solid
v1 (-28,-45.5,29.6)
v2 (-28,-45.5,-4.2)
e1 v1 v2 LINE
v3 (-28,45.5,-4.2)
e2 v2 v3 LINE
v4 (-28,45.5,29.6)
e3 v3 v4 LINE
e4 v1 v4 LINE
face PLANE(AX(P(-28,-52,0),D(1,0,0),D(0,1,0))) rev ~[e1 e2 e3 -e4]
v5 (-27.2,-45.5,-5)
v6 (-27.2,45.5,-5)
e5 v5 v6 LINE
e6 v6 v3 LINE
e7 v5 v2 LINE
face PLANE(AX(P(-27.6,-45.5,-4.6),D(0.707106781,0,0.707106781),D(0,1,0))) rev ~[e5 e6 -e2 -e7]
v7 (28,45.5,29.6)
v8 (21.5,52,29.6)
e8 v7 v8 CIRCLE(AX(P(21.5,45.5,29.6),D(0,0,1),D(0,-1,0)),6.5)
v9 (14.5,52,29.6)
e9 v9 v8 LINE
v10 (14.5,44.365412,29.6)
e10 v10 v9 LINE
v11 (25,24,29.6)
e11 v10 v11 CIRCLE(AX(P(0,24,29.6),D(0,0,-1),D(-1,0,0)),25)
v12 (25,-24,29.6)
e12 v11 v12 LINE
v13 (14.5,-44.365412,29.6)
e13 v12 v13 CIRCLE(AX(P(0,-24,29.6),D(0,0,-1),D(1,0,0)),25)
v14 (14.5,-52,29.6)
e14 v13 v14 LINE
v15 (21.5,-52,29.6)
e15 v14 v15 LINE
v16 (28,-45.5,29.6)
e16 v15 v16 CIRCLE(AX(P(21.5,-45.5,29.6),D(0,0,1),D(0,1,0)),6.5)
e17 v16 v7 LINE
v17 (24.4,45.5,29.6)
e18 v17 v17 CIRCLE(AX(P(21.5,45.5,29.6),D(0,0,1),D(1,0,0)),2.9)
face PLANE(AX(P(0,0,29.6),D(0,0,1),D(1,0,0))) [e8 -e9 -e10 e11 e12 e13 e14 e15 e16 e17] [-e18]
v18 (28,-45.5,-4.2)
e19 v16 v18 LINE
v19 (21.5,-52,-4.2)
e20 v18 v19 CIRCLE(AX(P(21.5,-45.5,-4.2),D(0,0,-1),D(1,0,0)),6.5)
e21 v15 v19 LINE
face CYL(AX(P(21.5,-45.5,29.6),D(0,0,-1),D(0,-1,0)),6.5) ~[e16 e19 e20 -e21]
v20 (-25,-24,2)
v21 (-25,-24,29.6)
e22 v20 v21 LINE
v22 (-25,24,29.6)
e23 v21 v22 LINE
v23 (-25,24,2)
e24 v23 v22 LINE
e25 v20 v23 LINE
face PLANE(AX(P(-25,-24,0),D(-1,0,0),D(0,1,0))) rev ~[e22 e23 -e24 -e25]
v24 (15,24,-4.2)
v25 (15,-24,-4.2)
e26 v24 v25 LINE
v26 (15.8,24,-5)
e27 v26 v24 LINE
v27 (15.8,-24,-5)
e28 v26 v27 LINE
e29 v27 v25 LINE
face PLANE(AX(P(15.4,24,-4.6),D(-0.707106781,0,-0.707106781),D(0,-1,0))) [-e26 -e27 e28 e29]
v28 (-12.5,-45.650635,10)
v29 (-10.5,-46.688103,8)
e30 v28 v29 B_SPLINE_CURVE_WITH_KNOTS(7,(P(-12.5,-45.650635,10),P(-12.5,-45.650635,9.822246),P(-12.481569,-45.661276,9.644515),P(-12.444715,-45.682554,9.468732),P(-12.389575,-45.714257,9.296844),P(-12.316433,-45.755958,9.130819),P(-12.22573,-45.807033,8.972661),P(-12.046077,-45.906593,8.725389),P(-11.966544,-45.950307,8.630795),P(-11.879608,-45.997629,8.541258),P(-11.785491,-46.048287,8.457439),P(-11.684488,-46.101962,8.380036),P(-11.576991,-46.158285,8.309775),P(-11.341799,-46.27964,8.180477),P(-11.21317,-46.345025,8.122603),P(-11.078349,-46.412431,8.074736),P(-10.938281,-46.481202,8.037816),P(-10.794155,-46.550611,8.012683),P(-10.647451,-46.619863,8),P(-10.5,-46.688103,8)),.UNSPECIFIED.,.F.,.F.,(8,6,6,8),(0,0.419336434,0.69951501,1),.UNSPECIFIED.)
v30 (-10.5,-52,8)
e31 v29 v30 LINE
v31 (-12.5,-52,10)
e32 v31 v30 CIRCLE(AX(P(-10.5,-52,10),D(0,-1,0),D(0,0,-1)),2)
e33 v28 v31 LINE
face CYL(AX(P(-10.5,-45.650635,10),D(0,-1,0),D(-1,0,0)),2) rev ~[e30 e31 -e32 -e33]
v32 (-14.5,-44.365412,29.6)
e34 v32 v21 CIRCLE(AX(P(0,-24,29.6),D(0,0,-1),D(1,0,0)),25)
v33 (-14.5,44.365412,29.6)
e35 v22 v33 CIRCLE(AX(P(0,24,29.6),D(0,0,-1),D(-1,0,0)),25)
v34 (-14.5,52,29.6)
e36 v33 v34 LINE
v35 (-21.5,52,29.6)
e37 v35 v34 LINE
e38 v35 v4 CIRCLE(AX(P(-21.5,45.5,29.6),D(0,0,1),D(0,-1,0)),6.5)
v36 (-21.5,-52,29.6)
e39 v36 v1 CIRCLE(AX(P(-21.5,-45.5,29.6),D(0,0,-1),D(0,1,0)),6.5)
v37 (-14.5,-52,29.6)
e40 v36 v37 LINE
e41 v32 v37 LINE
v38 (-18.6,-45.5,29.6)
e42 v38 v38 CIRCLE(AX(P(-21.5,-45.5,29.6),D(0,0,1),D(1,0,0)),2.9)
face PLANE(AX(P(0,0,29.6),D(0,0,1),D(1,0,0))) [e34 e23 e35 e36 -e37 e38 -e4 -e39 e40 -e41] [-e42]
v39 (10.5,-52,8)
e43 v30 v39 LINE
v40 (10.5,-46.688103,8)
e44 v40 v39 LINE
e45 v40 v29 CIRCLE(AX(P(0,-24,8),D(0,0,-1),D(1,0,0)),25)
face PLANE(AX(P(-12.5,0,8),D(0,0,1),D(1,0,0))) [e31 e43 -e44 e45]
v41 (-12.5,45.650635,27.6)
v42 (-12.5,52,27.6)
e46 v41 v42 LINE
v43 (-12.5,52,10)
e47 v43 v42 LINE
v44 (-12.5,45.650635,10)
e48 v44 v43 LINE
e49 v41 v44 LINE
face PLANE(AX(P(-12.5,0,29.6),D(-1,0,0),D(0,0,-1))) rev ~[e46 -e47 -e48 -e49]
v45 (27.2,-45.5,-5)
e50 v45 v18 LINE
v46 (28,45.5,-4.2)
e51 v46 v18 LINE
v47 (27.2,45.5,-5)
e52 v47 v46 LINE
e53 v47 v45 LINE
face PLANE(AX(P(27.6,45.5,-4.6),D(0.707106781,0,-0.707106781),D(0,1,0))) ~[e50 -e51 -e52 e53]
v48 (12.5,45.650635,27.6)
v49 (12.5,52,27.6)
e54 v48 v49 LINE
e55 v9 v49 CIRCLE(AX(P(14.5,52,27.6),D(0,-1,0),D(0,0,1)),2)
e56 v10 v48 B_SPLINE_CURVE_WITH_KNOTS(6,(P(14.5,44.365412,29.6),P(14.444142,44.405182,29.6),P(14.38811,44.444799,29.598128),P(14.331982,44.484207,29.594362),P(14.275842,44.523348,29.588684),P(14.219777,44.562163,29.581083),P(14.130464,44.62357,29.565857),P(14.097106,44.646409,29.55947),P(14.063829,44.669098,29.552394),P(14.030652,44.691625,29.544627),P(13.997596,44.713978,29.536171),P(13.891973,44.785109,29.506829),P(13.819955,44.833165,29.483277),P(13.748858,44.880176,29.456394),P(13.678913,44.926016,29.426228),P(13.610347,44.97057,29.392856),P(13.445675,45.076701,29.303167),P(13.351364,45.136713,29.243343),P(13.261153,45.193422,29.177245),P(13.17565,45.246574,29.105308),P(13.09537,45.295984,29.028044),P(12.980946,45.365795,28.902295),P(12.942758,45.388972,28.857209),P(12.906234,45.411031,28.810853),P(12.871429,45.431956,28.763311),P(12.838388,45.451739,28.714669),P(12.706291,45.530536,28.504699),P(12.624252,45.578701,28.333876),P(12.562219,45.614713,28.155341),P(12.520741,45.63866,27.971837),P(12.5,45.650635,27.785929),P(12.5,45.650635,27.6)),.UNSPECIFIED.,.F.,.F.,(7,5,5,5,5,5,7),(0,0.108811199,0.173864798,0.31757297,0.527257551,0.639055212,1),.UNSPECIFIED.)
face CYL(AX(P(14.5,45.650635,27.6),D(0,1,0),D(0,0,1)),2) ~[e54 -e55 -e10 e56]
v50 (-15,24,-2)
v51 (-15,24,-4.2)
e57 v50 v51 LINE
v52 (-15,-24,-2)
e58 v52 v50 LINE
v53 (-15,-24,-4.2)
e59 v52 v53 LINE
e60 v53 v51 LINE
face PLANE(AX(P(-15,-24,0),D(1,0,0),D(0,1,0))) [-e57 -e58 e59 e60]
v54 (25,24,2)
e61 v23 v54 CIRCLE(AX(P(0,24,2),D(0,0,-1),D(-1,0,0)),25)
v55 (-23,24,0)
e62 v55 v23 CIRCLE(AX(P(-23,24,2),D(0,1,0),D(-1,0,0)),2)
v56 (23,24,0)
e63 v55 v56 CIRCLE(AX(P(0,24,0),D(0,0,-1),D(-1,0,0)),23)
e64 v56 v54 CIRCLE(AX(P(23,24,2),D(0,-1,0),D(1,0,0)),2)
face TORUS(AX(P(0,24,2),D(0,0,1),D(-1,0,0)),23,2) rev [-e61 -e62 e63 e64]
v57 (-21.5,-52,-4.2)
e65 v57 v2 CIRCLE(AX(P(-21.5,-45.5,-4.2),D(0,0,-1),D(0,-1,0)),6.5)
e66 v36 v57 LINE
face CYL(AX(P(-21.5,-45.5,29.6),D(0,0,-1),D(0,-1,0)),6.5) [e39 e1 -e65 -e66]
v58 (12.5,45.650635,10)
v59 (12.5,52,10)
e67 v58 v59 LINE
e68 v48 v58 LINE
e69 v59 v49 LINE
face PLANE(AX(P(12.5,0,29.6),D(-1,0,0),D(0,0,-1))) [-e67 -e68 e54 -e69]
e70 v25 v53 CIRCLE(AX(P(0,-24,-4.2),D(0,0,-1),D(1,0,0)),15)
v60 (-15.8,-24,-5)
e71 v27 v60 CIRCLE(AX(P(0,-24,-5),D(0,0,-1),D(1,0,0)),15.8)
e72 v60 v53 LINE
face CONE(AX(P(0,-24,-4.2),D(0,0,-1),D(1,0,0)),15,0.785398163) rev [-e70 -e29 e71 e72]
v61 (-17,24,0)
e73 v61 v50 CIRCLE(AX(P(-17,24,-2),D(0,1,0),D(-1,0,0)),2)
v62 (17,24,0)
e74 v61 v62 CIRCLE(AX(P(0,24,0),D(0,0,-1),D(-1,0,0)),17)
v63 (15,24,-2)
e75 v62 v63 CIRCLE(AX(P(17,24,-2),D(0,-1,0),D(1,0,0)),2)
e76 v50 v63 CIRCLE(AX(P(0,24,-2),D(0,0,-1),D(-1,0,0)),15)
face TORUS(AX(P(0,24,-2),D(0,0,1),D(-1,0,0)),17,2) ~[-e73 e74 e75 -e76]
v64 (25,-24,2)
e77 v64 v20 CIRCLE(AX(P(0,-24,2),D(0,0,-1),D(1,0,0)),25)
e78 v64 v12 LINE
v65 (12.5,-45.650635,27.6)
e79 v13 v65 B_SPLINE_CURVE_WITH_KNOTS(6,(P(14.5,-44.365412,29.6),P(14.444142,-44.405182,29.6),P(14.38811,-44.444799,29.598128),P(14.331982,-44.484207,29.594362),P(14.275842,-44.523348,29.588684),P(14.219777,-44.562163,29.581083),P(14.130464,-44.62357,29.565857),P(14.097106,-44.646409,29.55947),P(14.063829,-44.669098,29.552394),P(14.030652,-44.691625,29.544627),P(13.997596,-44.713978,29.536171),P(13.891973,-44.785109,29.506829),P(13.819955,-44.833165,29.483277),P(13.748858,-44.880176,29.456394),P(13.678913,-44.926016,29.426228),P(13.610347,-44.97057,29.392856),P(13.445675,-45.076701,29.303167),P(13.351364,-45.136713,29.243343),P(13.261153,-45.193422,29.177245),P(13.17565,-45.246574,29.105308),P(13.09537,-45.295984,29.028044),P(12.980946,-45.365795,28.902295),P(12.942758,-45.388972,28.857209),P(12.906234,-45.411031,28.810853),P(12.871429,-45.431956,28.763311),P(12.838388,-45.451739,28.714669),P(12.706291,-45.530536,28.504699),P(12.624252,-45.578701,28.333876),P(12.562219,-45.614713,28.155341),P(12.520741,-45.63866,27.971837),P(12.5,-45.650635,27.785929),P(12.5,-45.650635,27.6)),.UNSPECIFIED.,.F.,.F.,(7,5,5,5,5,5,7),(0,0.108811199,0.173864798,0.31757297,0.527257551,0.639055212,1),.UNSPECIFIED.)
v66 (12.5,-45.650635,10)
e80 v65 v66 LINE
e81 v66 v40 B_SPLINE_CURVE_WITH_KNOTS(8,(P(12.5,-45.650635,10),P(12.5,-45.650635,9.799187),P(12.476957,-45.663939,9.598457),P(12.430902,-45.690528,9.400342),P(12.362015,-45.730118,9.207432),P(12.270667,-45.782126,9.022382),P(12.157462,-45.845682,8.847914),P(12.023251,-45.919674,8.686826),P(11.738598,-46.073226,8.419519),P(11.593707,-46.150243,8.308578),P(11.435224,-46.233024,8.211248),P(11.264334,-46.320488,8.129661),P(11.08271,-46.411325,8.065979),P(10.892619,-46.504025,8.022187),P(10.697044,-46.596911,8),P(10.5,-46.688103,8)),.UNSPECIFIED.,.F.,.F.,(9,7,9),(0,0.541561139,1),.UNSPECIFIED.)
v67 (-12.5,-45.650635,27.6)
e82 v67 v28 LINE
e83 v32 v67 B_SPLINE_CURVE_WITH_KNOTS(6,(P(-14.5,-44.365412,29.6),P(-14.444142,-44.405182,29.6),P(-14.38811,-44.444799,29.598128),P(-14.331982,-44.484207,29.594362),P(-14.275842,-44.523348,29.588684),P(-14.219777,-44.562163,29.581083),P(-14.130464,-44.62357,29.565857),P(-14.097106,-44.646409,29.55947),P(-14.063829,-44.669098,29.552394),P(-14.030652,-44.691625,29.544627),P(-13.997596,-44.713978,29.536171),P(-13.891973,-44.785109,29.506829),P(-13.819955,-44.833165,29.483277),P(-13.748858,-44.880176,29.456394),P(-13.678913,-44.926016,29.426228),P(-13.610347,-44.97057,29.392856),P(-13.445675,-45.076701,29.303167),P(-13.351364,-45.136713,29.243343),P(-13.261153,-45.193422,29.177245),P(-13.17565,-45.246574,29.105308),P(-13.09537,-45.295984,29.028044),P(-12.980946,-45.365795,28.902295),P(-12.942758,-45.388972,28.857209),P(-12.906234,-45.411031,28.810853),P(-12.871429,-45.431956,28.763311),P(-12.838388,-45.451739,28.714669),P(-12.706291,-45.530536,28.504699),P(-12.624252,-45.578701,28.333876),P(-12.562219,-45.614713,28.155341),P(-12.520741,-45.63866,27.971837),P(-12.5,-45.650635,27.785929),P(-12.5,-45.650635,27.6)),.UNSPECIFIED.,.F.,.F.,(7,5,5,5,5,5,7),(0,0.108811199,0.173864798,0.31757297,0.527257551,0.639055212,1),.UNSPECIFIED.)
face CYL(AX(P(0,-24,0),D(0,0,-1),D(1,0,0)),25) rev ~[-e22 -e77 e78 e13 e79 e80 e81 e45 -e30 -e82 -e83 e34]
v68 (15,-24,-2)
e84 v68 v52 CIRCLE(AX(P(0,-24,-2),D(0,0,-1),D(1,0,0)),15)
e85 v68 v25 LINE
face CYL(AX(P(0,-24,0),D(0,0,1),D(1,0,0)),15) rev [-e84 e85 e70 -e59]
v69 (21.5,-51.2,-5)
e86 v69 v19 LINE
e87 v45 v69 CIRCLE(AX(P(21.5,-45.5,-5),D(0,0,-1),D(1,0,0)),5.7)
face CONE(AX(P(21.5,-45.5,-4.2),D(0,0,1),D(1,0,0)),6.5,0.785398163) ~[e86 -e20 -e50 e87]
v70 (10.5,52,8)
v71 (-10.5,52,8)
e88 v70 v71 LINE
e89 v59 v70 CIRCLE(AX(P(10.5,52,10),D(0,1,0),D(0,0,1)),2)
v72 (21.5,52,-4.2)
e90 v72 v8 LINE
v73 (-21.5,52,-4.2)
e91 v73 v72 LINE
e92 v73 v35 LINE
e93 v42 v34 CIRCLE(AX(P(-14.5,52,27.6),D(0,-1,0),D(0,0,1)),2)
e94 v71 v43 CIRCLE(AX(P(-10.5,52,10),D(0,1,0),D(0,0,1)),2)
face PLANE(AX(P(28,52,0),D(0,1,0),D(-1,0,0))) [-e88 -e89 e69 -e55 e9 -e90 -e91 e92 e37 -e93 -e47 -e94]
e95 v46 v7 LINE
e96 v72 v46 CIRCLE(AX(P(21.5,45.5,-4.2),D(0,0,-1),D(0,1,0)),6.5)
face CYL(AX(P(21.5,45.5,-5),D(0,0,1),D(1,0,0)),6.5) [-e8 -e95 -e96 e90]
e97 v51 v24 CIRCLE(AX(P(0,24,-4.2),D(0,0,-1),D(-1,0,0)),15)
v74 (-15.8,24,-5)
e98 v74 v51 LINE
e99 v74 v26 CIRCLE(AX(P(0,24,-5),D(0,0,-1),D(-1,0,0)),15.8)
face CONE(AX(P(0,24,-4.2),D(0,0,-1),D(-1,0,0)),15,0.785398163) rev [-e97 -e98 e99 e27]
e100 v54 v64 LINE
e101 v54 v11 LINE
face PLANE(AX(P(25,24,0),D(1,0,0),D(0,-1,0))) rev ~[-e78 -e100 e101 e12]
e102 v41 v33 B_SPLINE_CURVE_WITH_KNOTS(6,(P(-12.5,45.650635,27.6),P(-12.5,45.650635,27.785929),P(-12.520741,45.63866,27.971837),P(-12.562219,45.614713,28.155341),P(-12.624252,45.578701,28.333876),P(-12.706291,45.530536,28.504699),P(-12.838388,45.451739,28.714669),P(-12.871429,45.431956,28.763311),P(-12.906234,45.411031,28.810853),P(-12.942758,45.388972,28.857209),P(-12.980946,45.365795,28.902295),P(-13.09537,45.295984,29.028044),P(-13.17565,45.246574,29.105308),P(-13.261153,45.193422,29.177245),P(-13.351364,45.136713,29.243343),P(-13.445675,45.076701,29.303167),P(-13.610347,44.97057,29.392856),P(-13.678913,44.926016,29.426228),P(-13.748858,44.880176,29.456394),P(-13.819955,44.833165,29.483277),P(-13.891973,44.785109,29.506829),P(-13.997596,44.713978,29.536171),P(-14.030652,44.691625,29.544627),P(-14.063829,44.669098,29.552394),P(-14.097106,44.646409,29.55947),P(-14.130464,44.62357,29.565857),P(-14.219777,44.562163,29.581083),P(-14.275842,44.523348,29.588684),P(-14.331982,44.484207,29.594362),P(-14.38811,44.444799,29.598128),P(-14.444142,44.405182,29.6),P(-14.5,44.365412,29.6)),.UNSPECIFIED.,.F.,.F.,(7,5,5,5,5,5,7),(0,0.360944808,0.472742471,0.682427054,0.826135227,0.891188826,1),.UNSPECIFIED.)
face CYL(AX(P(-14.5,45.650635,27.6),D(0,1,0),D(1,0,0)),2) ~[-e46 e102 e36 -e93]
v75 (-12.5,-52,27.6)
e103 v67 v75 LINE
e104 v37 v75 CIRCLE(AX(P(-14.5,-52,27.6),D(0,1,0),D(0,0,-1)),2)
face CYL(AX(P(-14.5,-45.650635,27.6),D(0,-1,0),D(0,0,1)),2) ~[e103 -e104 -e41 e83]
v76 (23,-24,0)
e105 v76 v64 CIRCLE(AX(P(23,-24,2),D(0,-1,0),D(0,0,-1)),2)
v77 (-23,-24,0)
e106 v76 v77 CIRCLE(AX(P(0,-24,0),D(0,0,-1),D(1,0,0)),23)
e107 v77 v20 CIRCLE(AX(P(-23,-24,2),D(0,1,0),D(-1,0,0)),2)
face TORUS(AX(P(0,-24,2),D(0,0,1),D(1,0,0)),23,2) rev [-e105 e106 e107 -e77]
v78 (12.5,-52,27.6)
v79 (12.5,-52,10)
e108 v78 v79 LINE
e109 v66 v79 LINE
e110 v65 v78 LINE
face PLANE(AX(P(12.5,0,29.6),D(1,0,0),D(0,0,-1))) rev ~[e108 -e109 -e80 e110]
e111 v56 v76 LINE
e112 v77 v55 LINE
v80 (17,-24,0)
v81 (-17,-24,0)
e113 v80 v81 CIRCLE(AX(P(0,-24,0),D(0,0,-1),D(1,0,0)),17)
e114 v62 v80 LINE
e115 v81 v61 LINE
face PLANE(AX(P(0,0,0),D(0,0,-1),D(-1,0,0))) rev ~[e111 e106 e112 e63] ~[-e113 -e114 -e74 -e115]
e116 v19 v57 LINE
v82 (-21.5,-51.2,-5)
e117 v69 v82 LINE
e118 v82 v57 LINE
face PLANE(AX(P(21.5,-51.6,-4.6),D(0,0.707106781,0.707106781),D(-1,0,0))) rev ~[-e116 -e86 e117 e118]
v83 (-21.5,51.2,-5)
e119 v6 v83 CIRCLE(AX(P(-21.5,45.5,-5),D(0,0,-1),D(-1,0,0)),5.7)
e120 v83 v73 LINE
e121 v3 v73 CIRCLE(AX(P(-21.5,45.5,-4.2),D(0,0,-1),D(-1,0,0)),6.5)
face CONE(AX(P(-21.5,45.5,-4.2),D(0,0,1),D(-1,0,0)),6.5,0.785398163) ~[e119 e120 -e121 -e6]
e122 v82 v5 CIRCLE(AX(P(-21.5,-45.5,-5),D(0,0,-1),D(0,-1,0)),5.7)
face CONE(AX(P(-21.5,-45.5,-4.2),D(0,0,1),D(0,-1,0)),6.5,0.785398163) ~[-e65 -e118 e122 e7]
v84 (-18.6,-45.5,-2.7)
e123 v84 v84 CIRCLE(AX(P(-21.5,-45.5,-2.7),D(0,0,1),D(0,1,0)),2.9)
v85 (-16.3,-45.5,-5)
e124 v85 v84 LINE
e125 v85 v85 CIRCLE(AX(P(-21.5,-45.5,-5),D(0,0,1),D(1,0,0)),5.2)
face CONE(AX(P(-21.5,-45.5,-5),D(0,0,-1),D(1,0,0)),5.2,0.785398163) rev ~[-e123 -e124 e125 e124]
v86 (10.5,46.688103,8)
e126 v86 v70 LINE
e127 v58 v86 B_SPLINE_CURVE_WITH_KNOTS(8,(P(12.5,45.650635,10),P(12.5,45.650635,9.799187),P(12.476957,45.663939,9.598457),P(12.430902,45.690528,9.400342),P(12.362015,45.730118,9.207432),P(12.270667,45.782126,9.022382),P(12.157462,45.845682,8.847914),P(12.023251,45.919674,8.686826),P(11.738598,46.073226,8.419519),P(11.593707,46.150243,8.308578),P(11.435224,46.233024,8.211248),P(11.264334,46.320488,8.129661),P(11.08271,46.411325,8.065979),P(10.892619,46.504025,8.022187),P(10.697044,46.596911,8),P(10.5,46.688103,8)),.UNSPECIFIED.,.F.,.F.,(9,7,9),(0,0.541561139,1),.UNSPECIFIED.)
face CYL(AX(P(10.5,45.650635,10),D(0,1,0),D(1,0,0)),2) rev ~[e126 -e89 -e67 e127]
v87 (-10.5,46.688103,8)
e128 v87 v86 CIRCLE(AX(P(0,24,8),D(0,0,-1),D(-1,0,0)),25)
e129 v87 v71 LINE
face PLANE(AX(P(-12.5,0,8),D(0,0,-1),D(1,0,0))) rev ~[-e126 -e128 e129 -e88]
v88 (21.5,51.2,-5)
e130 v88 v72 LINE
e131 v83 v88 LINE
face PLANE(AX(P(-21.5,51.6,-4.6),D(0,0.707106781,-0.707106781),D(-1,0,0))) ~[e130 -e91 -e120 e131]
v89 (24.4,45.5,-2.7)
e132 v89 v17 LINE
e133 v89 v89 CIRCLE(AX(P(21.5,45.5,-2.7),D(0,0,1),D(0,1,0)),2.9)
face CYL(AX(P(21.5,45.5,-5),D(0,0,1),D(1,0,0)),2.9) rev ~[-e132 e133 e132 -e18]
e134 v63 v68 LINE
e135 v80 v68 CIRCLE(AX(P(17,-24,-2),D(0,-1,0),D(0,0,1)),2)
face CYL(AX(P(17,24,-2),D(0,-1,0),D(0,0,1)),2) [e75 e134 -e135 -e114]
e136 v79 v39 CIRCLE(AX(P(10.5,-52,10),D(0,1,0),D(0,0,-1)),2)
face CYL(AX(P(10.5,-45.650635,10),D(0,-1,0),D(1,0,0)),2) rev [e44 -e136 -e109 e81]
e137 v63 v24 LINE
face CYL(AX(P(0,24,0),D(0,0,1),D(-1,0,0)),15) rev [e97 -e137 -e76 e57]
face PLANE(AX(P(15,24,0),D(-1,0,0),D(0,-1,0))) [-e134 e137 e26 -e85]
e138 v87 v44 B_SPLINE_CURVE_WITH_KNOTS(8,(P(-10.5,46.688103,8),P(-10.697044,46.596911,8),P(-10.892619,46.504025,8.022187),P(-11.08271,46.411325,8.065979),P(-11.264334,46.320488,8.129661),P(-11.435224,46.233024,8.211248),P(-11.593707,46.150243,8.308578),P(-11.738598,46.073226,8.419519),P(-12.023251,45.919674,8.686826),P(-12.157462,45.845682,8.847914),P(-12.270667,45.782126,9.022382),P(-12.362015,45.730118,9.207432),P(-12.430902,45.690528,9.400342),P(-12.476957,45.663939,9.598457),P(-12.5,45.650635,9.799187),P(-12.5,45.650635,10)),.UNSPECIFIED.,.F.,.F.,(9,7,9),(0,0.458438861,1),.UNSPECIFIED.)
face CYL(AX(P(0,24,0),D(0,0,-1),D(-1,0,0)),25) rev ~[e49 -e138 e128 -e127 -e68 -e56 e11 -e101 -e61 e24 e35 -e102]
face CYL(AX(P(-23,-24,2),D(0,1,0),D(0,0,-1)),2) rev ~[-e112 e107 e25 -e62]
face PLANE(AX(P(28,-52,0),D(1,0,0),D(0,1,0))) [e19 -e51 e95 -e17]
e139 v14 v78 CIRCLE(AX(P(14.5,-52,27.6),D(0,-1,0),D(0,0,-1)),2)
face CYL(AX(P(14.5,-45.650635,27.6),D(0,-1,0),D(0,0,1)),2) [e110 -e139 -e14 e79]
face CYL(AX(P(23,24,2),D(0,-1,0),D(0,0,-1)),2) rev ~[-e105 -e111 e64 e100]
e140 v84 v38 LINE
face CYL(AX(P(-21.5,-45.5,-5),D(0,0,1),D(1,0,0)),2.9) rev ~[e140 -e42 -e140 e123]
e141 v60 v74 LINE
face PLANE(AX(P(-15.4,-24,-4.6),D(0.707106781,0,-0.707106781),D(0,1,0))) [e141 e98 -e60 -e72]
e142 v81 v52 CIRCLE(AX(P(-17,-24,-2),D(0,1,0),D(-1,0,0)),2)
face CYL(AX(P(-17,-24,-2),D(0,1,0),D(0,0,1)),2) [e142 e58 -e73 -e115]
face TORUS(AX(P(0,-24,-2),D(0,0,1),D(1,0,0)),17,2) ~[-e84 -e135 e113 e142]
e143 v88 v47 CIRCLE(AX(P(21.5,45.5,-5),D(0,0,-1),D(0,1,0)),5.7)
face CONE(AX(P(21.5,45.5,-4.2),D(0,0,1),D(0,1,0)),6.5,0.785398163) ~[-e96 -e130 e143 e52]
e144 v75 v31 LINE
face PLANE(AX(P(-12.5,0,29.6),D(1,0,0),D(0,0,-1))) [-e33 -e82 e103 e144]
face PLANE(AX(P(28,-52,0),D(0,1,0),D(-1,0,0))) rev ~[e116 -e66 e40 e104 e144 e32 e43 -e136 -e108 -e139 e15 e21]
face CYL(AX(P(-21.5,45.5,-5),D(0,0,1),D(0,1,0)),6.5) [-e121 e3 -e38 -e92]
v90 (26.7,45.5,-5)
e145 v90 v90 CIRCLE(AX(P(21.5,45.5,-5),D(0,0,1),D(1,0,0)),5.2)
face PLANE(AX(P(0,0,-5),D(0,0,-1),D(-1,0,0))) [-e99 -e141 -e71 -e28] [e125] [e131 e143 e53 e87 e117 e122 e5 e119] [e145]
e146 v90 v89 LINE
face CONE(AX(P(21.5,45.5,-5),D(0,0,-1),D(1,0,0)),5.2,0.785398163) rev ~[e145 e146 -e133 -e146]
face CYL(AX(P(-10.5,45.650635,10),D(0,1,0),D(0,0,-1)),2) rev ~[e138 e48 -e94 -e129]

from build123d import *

# Parameters (mm, degrees)
SKETCH1_W                                       = 56
SKETCH1_H                                       = 104
BOSS_EXTRUDE1_DEPTH                             = 29.6
SKETCH2_W                                       = 56
SKETCH2_H                                       = 104
BOSS_EXTRUDE2_DEPTH                             = 5
FILLET1_R                                       = 2
SKETCH3_W                                       = 25
SKETCH3_H                                       = 21.6
CUT_EXTRUDE1_DEPTH                              = 53
CUT_EXTRUDE1_DEPTH_BACK                         = 53
FILLET2_R                                       = 2
FILLET3_R                                       = 6.5
CSK_FOR_M5_FLAT_HEAD_MACHINE_SCREW1_D           = 5.8
CSK_FOR_M5_FLAT_HEAD_MACHINE_SCREW1_CSINK_D     = 10.4
CSK_FOR_M5_FLAT_HEAD_MACHINE_SCREW1_CSINK_ANGLE = 90
CHAMFER1_SIZE                                   = 0.8


with BuildPart() as part:
    # Sketch1 → Boss-Extrude1 (new body)
    with BuildSketch(Plane.XY):
        Rectangle(SKETCH1_W, SKETCH1_H)
        with BuildLine():
            Line((25, 24), (25, -24))
            ThreePointArc((25, -24), (0, -49), (-25, -24))
            Line((-25, -24), (-25, 24))
            ThreePointArc((-25, 24), (0, 49), (25, 24))
        make_face(mode=Mode.SUBTRACT)
    extrude(amount=BOSS_EXTRUDE1_DEPTH)

    # Sketch2 → Boss-Extrude2 (add)
    with BuildSketch(Plane(origin=(0, 0, 0), x_dir=(-1, 0, 0), z_dir=(0, 0, -1))):
        Rectangle(SKETCH2_W, SKETCH2_H)
        with BuildLine():
            Line((-15, 24), (-15, -24))
            ThreePointArc((-15, -24), (0, -39), (15, -24))
            Line((15, -24), (15, 24))
            ThreePointArc((15, 24), (0, 39), (-15, 24))
        make_face(mode=Mode.SUBTRACT)
    extrude(amount=BOSS_EXTRUDE2_DEPTH)

    # Fillet1
    fillet1_edges = [part.edges().sort_by_distance(p)[0] for p in [
        (0, 49, 0),
        (-25, 0, 0),
        (0, -49, 0),
        (25, 0, 0),
        (0, 39, 0),
        (15, 0, 0),
        (0, -39, 0),
        (-15, 0, 0),
    ]]
    fillet(fillet1_edges, radius=FILLET1_R)

    # Sketch3 → Cut-Extrude1 (cut, two sides)
    with BuildSketch(Plane(origin=(0, 0, 0), x_dir=(1, 0, 0), z_dir=(0, 1, 0))) as cut_extrude1_sk:
        with Locations((0, -18.8)):
            Rectangle(SKETCH3_W, SKETCH3_H)
    extrude(amount=CUT_EXTRUDE1_DEPTH, mode=Mode.SUBTRACT)
    extrude(cut_extrude1_sk.sketch, amount=-CUT_EXTRUDE1_DEPTH_BACK, mode=Mode.SUBTRACT)

    # Fillet2
    fillet2_edges = [part.edges().sort_by_distance(p)[0] for p in [
        (-12.5, 48.825317547, 29.6),
        (-12.5, 48.825317547, 8),
        (12.5, 48.825317547, 8),
        (12.5, 48.825317547, 29.6),
        (-12.5, -48.825317547, 29.6),
        (-12.5, -48.825317547, 8),
        (12.5, -48.825317547, 8),
        (12.5, -48.825317547, 29.6),
    ]]
    fillet(fillet2_edges, radius=FILLET2_R)

    # Fillet3
    fillet3_edges = [part.edges().sort_by_distance(p)[0] for p in [
        (28, -52, 12.3),
        (-28, -52, 12.3),
        (-28, 52, 12.3),
        (28, 52, 12.3),
    ]]
    fillet(fillet3_edges, radius=FILLET3_R)

    # CSK for M5 Flat Head Machine Screw1 (through all)
    with Locations(Plane(origin=(21.5, 45.5, -5), x_dir=(-1, 0, 0), z_dir=(0, 0, -1))):
        with Locations((0, 0), (43, -91)):
            CounterSinkHole(CSK_FOR_M5_FLAT_HEAD_MACHINE_SCREW1_D / 2, CSK_FOR_M5_FLAT_HEAD_MACHINE_SCREW1_CSINK_D / 2, counter_sink_angle=CSK_FOR_M5_FLAT_HEAD_MACHINE_SCREW1_CSINK_ANGLE)

    # Chamfer1
    chamfer1_edges = [part.edges().sort_by_distance(p)[0] for p in [
        (-28, 0, -5),
        (0, 52, -5),
        (28, 0, -5),
        (0, -52, -5),
        (26.096194078, -50.096194078, -5),
        (26.096194078, 50.096194078, -5),
        (-26.096194078, -50.096194078, -5),
        (-26.096194078, 50.096194078, -5),
        (0, 39, -5),
        (15, 0, -5),
        (0, -39, -5),
        (-15, 0, -5),
    ]]
    chamfer(chamfer1_edges, length=CHAMFER1_SIZE)


solid = part.part
